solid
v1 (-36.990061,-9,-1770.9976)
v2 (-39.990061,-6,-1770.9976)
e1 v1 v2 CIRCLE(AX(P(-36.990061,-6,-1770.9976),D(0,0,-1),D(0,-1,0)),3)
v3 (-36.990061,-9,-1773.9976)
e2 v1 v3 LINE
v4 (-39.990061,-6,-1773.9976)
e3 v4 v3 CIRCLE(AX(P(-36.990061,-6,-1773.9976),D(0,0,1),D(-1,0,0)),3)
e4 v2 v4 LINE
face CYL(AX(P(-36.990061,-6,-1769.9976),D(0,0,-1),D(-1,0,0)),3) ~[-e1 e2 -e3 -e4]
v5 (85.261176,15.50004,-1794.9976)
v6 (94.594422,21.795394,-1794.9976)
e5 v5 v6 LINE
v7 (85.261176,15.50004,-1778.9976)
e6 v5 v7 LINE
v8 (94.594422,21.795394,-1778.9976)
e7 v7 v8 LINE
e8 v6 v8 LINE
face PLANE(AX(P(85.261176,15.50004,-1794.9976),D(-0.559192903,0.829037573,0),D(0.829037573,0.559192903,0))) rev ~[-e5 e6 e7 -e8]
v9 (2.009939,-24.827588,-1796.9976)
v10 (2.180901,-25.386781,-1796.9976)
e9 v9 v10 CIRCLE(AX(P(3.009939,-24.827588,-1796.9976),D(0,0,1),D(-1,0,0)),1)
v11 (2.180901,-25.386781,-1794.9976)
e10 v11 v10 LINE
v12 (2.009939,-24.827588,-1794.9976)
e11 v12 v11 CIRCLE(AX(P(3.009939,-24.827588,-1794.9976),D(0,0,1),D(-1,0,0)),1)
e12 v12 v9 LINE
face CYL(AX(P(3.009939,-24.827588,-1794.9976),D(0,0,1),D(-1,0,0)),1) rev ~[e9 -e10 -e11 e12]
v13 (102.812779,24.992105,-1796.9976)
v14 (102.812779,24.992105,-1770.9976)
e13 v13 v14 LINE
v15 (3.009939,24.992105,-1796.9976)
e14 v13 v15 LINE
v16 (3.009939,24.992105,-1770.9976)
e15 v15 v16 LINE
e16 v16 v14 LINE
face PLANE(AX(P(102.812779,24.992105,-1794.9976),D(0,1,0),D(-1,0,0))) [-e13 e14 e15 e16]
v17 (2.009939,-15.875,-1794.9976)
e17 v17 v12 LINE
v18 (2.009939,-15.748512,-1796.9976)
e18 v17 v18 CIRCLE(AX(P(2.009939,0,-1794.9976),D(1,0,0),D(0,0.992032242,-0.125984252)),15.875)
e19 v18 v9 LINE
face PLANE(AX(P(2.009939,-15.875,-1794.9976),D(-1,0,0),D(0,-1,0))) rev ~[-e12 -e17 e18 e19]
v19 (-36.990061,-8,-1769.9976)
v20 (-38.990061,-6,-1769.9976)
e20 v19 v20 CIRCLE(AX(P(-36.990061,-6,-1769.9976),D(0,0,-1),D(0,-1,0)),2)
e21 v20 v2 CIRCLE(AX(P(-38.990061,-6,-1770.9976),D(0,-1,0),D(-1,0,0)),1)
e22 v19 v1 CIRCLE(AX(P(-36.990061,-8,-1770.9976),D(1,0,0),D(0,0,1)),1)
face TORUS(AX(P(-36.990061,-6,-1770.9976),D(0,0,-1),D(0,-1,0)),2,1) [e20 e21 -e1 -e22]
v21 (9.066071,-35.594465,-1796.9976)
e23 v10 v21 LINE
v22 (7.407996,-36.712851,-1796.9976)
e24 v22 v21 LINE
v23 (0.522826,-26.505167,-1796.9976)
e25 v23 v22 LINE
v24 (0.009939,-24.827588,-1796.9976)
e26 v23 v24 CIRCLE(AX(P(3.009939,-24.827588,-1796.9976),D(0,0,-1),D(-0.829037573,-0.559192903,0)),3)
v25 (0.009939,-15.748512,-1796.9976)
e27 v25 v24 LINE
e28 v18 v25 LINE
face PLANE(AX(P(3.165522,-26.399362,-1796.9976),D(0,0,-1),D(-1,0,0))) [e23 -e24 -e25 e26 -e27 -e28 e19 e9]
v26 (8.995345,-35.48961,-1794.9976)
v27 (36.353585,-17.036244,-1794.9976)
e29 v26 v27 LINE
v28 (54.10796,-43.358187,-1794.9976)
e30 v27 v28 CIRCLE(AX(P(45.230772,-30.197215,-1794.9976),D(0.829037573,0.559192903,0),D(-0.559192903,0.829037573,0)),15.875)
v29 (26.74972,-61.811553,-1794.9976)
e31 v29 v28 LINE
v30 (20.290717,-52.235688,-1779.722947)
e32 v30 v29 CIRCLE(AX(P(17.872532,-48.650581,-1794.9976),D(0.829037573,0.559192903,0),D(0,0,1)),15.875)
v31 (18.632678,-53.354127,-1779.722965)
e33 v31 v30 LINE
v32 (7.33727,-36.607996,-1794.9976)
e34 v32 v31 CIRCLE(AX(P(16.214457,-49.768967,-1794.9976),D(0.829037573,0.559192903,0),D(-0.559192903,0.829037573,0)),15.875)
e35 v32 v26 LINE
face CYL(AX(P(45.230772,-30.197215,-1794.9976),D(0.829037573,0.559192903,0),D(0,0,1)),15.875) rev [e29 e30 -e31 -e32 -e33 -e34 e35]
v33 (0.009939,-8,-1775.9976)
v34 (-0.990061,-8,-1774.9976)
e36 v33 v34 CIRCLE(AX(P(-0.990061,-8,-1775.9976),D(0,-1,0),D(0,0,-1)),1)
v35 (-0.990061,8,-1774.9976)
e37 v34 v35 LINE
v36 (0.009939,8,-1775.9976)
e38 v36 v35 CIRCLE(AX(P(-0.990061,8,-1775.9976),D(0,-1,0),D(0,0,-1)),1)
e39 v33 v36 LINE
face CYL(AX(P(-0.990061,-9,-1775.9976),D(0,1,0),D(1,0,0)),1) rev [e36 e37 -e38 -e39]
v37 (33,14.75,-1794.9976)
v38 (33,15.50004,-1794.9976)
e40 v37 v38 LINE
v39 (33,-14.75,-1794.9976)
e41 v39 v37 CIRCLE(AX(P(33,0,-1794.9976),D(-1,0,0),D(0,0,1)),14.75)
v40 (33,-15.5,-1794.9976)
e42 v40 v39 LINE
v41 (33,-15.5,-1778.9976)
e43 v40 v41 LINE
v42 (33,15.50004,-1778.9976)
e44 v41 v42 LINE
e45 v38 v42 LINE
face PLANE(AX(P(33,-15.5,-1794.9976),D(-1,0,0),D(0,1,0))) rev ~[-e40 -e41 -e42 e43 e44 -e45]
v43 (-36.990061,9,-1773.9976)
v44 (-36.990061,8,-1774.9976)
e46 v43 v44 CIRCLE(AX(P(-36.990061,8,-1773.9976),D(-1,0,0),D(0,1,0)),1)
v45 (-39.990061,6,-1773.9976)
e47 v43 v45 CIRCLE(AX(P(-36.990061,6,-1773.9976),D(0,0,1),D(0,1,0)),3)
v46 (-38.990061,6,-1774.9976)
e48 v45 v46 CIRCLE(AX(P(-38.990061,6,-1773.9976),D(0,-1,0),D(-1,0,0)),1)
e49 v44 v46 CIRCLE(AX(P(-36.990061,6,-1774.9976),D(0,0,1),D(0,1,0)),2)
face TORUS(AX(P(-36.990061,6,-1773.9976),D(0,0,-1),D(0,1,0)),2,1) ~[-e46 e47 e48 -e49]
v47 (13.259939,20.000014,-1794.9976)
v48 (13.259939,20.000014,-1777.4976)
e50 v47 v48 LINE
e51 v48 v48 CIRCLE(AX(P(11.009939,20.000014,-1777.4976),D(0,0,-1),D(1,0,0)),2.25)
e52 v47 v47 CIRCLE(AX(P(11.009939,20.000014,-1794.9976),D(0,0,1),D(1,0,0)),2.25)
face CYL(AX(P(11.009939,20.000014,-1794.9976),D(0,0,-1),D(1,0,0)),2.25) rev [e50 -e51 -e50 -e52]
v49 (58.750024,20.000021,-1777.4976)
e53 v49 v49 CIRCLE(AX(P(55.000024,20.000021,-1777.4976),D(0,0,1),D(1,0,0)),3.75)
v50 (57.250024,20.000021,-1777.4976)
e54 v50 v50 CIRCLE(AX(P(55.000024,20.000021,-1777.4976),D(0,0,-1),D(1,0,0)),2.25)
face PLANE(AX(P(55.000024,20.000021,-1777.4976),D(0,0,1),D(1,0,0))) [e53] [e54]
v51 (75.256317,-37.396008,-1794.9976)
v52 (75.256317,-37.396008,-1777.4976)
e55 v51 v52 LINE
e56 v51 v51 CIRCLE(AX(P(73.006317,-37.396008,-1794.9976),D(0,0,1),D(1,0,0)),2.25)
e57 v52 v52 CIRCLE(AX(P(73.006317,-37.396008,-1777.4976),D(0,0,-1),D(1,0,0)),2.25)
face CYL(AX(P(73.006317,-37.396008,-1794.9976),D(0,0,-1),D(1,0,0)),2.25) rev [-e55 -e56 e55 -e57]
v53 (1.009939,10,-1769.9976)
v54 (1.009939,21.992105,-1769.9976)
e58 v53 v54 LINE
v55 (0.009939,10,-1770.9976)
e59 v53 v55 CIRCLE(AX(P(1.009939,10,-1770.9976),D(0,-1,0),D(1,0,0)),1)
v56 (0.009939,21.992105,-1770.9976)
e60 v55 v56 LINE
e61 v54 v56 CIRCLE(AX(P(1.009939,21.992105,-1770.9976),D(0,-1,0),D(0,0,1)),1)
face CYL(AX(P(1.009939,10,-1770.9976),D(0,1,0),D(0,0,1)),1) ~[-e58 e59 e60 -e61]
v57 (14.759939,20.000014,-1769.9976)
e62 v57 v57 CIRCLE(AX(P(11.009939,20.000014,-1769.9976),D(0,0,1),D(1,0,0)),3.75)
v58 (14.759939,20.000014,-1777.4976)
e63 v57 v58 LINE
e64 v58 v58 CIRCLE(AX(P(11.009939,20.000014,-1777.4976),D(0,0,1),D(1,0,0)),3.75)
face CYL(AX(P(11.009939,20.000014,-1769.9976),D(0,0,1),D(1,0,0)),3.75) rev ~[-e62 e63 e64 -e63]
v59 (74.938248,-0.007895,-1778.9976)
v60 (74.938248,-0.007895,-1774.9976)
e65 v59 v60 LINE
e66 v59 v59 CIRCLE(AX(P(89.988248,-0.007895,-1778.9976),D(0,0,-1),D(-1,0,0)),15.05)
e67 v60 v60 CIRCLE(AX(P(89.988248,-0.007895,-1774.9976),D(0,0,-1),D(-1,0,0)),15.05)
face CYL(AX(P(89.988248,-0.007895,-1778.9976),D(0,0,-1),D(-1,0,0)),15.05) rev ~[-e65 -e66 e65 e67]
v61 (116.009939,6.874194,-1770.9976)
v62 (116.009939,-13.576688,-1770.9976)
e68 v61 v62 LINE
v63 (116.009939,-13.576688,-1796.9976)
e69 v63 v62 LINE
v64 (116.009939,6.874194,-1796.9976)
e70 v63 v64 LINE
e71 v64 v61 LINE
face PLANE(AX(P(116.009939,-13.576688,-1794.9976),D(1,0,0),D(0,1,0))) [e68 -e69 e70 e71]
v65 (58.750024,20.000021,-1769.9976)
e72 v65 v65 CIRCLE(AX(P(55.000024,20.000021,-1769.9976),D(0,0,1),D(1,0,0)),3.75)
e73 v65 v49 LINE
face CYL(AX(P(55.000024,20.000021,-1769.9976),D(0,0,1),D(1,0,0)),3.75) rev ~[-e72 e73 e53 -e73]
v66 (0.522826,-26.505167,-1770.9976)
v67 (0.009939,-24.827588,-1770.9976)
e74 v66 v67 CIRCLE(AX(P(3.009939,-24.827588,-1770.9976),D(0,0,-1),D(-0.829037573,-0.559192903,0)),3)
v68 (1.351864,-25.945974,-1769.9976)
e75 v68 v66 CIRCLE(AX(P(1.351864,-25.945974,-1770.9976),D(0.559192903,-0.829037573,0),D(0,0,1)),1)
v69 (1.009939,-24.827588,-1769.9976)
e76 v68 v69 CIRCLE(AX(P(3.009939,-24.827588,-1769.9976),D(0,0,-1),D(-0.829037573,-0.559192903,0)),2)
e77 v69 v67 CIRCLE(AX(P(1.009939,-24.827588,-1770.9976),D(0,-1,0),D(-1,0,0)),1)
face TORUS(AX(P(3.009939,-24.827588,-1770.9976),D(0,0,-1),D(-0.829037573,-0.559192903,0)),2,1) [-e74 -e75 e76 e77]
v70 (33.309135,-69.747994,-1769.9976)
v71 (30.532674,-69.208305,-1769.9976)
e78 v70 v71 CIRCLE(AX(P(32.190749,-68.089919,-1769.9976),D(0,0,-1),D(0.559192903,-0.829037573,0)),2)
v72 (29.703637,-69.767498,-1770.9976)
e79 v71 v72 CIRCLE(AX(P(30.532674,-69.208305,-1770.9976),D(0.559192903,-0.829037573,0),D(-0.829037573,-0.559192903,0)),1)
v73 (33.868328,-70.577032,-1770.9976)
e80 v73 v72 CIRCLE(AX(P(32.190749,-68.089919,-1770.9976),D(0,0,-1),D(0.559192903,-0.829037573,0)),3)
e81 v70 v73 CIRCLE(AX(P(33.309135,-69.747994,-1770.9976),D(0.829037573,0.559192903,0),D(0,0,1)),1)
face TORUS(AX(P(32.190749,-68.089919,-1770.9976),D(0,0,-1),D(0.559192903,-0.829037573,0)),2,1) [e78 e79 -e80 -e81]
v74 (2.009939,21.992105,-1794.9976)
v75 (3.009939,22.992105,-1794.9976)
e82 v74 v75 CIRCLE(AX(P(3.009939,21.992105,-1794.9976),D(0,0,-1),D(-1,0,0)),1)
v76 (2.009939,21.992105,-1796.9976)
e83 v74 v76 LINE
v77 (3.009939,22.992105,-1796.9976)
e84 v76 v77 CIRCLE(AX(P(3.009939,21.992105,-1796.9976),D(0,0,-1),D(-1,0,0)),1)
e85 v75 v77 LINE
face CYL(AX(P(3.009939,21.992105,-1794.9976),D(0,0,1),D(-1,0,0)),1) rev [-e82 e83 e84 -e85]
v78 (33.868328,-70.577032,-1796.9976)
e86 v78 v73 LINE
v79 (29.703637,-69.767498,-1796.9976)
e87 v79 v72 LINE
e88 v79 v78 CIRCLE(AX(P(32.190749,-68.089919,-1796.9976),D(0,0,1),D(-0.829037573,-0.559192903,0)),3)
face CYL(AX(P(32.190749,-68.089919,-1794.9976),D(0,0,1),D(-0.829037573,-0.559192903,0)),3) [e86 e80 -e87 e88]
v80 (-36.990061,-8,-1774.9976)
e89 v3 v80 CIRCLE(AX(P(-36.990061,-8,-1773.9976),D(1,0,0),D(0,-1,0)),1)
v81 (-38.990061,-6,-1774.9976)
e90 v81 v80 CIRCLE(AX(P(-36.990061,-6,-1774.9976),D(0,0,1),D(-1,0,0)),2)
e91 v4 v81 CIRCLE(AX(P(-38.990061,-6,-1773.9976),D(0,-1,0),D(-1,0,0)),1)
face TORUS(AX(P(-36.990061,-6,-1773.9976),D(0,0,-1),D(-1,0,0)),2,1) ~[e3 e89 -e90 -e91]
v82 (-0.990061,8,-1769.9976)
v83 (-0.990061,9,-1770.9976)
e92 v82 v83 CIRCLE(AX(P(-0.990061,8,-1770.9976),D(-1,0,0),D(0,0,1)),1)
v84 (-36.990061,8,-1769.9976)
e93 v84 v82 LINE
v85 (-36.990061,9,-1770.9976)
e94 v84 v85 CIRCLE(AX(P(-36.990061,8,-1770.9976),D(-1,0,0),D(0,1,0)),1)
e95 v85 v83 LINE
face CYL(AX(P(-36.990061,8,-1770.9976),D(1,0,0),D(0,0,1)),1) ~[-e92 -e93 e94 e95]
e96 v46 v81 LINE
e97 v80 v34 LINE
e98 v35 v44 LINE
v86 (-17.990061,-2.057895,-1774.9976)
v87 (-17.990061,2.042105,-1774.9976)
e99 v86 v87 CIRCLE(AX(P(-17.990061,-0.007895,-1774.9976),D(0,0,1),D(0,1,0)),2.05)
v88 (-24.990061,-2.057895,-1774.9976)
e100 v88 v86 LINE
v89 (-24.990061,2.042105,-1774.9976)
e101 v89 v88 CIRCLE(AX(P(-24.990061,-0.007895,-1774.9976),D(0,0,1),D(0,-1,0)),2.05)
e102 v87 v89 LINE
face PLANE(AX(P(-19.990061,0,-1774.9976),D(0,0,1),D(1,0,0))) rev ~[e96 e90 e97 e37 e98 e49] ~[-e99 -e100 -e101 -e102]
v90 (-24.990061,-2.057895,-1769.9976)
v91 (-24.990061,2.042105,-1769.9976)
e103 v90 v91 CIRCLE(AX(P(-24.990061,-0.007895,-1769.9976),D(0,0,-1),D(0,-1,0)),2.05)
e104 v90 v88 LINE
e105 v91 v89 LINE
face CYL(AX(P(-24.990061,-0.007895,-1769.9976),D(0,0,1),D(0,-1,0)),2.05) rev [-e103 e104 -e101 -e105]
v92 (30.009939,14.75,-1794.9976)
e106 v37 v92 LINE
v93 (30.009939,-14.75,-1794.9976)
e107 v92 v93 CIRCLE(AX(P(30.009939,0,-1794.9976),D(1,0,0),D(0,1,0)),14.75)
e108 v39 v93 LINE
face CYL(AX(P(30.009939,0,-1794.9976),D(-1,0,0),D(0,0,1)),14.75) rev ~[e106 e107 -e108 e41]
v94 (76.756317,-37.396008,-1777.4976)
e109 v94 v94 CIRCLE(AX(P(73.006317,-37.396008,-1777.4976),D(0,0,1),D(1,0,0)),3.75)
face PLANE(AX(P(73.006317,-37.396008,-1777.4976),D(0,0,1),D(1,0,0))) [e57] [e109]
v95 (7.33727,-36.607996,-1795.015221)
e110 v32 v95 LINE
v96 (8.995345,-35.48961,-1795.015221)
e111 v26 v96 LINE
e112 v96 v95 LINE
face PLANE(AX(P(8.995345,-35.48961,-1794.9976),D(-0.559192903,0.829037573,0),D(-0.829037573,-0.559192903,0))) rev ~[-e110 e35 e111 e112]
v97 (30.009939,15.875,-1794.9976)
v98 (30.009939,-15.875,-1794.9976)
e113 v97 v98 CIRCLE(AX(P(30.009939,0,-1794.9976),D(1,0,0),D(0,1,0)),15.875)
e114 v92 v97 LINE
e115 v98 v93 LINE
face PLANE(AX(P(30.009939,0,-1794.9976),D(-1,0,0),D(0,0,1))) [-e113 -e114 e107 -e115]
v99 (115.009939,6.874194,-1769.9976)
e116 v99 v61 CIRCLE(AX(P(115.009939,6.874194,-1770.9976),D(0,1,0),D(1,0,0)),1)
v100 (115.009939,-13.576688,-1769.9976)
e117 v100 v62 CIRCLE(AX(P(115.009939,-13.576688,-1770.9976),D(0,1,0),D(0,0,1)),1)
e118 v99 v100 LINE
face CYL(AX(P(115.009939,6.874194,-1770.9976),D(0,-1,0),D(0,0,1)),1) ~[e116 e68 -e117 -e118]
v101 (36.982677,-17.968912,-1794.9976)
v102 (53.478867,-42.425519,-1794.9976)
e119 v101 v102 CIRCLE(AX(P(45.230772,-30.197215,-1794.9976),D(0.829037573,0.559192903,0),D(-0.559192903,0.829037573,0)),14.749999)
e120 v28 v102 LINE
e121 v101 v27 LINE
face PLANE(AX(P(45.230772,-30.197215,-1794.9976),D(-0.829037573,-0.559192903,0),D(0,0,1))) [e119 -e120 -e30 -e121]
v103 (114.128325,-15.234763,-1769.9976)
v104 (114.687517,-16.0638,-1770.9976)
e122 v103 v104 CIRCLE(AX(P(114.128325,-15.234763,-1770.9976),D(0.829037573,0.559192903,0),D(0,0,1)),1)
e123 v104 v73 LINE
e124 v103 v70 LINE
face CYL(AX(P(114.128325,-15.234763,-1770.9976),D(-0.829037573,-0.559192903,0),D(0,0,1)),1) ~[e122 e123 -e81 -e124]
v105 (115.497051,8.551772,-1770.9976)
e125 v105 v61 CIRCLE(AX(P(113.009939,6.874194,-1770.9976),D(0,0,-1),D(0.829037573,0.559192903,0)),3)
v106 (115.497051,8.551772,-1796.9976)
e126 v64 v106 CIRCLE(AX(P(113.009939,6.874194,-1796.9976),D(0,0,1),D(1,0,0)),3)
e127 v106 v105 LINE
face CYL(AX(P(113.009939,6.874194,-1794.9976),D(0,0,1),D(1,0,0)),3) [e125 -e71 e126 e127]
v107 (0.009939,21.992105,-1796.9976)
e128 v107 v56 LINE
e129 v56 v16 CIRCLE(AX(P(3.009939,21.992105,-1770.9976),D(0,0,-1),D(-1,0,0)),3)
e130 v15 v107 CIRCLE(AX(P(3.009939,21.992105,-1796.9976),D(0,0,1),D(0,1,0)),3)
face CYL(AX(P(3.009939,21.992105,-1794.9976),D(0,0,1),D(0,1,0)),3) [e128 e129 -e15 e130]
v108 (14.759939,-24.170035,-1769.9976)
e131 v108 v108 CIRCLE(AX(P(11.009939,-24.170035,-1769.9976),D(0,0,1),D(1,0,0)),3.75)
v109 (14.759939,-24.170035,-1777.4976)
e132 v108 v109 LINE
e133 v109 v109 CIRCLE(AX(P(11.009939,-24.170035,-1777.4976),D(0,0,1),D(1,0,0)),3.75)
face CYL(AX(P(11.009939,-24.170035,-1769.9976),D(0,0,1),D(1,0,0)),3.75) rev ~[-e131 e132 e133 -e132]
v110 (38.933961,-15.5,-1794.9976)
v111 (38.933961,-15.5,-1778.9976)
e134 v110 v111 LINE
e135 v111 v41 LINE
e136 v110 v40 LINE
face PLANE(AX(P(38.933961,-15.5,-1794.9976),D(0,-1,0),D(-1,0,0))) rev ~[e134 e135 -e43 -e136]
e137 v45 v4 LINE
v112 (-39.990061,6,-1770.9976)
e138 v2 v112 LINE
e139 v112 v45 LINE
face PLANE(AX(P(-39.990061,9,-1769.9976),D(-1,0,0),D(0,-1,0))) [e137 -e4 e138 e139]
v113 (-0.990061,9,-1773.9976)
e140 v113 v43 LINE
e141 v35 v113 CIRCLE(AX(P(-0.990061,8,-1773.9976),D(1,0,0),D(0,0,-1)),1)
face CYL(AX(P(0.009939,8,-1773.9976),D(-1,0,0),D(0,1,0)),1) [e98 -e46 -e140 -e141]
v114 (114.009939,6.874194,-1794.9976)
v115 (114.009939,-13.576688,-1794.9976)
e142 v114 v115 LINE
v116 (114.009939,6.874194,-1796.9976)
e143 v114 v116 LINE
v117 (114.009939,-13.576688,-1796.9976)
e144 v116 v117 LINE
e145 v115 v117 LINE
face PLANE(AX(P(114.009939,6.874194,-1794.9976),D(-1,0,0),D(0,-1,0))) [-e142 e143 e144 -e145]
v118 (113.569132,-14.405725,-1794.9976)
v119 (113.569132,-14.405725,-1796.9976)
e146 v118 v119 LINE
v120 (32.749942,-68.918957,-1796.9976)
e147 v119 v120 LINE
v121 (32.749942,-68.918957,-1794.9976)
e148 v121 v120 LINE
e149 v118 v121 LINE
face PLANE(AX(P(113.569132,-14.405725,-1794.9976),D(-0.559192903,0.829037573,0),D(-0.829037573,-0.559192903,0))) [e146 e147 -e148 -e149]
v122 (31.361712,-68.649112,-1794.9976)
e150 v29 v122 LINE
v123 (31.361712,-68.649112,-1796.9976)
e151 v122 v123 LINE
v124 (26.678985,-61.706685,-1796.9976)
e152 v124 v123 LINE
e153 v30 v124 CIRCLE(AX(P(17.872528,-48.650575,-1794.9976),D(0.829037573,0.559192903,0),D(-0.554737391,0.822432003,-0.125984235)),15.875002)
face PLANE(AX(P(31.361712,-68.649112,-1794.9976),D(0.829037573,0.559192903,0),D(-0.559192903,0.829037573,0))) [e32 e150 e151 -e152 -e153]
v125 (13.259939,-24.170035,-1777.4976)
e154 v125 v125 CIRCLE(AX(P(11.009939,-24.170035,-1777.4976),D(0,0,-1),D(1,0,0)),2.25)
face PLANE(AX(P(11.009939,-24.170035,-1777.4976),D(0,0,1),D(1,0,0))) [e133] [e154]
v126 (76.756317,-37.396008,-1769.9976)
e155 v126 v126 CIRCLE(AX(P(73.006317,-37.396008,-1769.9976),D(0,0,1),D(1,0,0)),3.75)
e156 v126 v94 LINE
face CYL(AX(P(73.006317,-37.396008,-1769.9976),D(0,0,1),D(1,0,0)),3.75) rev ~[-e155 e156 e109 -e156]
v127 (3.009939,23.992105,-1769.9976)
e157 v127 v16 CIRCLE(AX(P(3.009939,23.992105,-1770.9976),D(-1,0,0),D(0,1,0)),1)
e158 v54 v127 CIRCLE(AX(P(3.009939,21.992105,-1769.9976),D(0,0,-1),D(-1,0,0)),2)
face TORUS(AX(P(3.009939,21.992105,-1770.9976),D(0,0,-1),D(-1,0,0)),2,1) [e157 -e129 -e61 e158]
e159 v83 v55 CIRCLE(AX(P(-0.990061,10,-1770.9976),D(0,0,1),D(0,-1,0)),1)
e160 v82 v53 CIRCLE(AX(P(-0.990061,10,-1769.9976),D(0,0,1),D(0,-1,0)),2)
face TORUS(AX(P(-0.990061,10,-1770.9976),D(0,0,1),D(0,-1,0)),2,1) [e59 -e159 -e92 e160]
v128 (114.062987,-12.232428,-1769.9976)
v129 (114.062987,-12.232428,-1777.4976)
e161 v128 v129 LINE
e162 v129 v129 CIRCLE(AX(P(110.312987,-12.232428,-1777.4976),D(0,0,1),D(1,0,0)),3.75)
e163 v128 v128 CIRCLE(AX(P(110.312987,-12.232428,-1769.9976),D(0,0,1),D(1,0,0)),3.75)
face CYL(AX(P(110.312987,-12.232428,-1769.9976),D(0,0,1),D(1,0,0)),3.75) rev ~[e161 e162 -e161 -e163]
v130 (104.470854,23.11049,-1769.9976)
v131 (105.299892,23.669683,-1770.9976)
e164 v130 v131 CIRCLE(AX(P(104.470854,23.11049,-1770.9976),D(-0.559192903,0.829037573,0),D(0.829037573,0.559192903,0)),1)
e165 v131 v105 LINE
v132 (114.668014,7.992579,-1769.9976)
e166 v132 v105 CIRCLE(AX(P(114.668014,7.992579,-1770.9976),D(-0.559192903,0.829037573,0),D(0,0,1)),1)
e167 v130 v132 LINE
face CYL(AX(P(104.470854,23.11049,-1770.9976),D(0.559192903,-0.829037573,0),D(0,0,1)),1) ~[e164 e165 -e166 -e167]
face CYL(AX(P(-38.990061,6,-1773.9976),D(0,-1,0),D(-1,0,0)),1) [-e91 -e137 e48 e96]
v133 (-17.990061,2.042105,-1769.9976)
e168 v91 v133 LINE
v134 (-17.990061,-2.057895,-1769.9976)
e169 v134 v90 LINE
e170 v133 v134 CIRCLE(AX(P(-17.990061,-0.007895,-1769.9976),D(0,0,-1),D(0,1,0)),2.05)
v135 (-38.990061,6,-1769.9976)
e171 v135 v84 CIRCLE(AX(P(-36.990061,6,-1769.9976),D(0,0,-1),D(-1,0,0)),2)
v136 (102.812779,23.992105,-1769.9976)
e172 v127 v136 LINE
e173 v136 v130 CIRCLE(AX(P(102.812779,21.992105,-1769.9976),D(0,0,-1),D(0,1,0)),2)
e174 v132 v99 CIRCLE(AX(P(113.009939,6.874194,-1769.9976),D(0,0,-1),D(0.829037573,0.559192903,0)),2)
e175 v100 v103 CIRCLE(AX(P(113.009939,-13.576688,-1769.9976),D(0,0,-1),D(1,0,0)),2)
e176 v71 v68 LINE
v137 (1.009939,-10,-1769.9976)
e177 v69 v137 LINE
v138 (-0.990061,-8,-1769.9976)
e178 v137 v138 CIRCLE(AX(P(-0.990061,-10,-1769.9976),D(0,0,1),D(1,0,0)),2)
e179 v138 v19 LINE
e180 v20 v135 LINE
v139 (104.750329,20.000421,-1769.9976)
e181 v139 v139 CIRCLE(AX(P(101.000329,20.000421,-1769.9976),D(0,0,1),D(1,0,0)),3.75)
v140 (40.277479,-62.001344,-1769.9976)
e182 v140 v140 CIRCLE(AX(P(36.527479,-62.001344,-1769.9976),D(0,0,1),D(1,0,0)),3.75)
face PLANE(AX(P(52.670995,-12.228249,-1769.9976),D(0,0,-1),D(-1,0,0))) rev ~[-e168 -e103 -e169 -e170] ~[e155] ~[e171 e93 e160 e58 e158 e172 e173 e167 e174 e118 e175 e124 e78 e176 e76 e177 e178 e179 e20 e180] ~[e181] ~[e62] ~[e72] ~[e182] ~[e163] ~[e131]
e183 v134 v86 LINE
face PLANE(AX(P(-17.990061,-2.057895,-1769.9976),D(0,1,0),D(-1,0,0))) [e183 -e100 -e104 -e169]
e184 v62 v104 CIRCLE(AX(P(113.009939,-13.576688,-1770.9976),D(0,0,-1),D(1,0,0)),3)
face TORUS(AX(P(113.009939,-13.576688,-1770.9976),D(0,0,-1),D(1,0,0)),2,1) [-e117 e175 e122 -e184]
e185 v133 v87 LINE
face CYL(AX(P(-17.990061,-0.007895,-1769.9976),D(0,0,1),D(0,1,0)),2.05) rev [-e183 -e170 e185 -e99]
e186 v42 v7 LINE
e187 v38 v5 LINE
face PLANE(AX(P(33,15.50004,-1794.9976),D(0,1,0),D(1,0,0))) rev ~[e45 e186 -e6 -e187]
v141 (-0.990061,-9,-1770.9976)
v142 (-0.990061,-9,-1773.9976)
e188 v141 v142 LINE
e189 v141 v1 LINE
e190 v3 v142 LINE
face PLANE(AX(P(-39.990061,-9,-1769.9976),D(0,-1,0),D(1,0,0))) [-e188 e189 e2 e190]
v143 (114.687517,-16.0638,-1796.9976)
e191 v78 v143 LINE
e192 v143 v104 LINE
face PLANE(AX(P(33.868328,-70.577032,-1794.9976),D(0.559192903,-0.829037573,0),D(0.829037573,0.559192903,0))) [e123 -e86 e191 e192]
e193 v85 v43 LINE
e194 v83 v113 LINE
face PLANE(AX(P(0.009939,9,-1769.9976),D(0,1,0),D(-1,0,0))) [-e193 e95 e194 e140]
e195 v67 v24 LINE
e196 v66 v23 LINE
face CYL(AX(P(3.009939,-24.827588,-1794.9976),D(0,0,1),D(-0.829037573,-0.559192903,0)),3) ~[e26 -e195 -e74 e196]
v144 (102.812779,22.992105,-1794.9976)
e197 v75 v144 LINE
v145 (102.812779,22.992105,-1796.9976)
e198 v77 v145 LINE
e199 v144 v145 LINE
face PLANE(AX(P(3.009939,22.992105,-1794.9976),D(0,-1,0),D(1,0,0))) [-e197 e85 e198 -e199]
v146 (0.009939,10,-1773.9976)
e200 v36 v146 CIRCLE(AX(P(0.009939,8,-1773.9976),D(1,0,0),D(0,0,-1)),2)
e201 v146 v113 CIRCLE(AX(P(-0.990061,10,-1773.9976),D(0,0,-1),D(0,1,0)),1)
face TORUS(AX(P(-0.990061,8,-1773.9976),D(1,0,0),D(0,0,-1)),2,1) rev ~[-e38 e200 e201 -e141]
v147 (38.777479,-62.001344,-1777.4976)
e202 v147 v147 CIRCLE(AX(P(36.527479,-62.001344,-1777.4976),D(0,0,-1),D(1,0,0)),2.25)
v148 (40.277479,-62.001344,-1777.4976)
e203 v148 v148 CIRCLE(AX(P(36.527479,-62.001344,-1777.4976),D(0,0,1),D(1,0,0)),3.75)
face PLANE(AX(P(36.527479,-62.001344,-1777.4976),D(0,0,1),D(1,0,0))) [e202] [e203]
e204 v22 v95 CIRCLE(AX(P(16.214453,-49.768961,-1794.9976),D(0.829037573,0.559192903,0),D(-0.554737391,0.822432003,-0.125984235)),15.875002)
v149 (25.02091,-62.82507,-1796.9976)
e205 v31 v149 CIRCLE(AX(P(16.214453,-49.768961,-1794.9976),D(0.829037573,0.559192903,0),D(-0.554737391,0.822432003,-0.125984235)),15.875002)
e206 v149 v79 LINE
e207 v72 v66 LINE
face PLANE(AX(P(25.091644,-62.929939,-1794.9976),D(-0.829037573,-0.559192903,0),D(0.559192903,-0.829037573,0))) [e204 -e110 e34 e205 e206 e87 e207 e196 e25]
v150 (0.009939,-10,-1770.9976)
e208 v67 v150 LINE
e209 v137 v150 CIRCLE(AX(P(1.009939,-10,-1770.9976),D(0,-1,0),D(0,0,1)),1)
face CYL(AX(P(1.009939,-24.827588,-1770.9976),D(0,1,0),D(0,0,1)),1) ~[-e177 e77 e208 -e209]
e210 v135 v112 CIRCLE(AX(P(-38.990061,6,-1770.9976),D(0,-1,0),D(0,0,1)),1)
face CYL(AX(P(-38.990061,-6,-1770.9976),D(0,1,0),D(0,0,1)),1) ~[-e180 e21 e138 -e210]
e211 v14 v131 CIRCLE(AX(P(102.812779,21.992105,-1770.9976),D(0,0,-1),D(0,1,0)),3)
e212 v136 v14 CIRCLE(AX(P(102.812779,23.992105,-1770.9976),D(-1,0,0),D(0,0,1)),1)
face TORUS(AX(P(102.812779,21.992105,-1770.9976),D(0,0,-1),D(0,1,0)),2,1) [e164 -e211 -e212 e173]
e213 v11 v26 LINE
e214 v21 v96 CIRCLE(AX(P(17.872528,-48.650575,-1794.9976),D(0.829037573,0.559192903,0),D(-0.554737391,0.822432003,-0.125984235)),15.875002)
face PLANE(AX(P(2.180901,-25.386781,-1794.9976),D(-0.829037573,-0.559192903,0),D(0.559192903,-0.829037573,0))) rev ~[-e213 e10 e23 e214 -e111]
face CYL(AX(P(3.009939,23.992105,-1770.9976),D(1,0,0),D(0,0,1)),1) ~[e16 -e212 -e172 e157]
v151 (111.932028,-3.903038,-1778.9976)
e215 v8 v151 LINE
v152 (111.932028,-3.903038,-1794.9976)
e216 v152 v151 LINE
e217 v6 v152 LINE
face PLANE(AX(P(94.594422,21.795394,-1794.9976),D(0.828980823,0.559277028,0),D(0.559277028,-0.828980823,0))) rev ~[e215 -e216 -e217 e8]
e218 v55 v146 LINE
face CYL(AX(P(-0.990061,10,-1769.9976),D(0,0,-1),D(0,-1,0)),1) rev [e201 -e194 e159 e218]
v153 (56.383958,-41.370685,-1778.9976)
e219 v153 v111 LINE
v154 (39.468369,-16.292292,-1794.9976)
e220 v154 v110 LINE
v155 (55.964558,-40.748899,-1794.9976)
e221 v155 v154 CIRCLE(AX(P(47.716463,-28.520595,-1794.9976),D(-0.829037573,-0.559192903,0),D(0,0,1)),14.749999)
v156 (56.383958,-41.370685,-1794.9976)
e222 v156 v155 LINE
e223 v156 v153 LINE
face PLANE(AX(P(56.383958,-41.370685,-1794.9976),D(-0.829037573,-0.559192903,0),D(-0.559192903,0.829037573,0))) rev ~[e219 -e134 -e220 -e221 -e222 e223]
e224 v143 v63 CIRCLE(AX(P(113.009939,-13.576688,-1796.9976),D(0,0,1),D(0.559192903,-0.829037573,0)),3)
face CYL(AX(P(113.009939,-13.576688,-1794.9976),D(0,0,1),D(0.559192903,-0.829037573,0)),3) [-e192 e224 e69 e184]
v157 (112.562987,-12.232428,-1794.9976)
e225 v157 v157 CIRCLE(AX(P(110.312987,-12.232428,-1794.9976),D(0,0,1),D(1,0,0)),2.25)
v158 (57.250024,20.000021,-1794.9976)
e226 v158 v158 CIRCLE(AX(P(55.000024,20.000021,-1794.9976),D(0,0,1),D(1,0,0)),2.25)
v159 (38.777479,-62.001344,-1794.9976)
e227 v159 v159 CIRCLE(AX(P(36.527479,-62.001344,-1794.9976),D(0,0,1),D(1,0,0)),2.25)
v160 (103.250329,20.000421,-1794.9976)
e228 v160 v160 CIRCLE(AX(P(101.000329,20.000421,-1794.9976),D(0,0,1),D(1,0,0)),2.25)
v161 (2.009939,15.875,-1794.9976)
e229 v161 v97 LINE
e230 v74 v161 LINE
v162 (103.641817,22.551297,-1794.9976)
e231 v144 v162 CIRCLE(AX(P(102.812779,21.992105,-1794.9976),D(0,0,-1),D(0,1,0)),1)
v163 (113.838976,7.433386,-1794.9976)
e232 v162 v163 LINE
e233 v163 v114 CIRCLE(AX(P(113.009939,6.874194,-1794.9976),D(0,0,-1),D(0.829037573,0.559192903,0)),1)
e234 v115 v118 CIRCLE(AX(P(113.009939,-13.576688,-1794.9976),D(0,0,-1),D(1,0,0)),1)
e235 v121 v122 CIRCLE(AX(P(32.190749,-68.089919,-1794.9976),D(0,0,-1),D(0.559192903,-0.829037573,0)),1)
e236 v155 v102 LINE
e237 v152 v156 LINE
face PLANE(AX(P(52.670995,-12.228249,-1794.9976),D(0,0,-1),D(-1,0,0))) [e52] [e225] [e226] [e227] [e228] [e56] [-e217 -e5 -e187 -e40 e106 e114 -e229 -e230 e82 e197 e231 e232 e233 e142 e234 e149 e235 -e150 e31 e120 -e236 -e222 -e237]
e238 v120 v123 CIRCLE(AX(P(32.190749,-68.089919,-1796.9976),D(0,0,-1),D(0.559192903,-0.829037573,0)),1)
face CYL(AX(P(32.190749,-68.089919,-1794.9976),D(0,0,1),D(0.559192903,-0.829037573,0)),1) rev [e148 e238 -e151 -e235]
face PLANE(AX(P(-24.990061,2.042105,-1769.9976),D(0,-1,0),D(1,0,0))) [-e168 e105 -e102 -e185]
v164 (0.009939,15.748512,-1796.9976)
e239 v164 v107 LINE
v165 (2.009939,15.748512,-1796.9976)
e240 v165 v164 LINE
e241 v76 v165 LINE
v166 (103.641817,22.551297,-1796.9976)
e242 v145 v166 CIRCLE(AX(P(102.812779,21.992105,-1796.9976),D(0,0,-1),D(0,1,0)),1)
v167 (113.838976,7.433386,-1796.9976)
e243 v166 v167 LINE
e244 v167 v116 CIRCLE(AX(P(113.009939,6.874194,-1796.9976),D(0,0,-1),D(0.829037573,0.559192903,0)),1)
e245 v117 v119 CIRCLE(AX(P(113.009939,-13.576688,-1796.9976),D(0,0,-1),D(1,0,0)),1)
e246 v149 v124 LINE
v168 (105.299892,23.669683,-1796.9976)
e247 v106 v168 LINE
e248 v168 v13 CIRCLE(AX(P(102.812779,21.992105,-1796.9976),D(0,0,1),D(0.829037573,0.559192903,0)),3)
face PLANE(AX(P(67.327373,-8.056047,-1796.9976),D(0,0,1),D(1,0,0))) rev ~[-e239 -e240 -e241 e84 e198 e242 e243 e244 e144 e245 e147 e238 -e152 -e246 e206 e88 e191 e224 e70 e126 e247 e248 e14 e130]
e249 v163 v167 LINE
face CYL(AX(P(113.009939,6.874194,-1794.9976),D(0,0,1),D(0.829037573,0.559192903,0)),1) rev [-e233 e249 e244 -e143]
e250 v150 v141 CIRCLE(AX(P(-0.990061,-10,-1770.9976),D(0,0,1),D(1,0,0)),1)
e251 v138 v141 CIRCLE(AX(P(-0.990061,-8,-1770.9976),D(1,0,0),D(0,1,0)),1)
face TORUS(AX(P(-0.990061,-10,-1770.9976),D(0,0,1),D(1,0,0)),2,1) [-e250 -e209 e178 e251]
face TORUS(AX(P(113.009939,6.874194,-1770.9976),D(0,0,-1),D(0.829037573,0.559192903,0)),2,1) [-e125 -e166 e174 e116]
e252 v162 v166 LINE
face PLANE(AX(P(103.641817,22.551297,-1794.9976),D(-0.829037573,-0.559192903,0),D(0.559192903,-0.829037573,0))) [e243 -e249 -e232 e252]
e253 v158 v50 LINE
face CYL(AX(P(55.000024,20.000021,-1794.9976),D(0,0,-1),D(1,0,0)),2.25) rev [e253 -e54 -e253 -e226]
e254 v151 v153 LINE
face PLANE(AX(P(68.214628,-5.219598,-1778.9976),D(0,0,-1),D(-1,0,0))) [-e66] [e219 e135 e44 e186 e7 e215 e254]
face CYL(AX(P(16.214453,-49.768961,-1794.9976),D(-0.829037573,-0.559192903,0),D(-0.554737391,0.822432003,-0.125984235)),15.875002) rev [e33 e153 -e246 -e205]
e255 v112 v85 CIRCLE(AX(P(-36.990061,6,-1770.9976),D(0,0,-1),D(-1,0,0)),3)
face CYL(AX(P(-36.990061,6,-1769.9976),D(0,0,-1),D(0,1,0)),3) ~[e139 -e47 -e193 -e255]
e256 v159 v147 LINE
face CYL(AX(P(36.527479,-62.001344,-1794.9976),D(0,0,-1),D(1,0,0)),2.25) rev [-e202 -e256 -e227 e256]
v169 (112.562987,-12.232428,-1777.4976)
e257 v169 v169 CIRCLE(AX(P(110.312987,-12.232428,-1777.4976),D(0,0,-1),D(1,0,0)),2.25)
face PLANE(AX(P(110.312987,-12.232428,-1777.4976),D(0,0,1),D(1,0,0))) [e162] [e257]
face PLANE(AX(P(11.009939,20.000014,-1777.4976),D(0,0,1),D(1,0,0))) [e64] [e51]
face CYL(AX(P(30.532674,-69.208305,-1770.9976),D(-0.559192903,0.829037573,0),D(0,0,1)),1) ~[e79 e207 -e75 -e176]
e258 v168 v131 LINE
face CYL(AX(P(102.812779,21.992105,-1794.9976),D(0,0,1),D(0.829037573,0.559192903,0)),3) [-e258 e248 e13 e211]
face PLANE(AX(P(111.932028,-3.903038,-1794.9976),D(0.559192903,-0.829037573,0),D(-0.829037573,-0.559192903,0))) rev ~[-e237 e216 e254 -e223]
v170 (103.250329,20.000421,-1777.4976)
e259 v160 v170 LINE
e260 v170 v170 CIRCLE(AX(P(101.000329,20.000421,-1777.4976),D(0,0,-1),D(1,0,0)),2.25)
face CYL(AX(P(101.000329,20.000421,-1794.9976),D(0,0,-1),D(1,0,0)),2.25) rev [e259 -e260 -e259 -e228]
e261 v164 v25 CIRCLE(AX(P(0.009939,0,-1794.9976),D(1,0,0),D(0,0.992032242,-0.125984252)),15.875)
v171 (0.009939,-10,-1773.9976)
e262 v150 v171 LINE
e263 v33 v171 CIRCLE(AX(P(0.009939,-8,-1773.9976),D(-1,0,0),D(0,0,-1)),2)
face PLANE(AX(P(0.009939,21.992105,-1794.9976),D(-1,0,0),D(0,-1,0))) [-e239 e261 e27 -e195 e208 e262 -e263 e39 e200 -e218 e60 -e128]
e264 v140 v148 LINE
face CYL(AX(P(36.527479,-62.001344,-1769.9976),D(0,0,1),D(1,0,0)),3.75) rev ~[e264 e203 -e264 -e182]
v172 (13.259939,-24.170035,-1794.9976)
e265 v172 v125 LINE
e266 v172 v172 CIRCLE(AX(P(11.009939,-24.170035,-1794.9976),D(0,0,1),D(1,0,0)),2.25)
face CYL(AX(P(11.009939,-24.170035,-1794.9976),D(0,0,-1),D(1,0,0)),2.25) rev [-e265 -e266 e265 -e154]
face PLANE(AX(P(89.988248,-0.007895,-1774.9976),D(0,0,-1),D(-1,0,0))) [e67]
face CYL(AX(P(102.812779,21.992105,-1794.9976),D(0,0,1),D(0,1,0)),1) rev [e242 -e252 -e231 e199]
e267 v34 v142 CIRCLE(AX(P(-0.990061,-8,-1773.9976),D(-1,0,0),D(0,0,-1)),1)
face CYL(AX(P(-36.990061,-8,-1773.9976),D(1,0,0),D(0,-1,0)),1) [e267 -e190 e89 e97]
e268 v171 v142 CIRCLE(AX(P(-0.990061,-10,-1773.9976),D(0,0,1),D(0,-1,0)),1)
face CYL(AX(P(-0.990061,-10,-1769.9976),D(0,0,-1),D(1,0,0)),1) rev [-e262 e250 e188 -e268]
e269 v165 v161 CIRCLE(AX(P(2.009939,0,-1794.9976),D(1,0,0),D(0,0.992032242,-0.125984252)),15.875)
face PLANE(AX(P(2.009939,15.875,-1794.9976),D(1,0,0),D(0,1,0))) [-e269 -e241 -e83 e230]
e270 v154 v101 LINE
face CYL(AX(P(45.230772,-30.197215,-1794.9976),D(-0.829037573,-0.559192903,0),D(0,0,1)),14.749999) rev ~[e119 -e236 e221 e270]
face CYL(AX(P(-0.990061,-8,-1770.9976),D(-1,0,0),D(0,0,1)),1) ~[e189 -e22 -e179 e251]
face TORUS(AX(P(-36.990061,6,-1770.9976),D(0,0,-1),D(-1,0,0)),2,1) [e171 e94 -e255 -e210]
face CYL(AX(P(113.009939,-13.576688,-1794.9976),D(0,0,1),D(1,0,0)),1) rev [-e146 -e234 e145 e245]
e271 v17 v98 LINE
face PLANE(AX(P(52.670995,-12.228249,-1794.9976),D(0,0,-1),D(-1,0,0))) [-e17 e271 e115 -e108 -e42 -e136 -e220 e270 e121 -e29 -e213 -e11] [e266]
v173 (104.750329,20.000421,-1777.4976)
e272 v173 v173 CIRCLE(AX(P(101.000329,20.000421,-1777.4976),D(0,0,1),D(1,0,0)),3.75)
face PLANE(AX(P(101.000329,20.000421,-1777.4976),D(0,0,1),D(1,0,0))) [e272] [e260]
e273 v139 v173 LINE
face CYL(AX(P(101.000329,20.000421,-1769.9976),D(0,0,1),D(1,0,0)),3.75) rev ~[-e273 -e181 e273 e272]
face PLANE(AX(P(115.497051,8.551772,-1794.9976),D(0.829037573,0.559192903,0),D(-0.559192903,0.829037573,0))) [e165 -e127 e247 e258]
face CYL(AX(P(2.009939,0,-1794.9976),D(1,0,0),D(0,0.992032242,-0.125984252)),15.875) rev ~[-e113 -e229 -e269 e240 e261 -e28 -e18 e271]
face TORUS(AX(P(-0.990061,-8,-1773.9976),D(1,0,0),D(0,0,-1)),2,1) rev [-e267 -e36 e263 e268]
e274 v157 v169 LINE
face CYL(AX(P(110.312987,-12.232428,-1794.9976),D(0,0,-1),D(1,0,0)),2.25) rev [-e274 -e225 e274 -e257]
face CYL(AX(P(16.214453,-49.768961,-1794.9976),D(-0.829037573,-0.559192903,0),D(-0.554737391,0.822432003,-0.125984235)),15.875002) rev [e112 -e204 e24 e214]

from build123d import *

# Parameters (mm, degrees)
SKETCH4_R           = 2.2500000000000013
SKETCH4_R_2         = 2.2500000000000027
SKETCH4_R_3         = 2.2499999999999964
SKETCH4_R_4         = 2.249999999999996
BOSS_EXTRUDE1_DEPTH = 25
CUT_EXTRUDE1_START  = -30
SKETCH5_R           = 15.874999999999952
CUT_EXTRUDE1_DEPTH  = 30
CUT_EXTRUDE2_START  = -35
SKETCH6_R           = 15.874999999999952
CUT_EXTRUDE2_DEPTH  = 35
SKETCH7_R           = 14.75000008942099
CUT_EXTRUDE3_DEPTH  = 3
SKETCH8_R           = 14.749999054525292
CUT_EXTRUDE4_DEPTH  = 3
CUT_EXTRUDE5_DEPTH  = 16
SKETCH10_R          = 15.04999999992957
CUT_EXTRUDE6_DEPTH  = 4
BOSS_EXTRUDE2_DEPTH = 5
CUT_EXTRUDE7_REACH  = 140.939
FILLET4_R           = 3
FILLET5_R           = 3
SKETCH14_R          = 3.750000000000006
SKETCH14_R_2        = 3.750000000000007
SKETCH14_R_3        = 3.7499999999999996
SKETCH14_R_4        = 3.7500000000000058
CUT_EXTRUDE8_DEPTH  = 7.5
FILLET7_R           = 1
BOSS_EXTRUDE4_DEPTH = 2
BOSS_EXTRUDE5_DEPTH = 2
BOSS_EXTRUDE6_DEPTH = 2
BOSS_EXTRUDE7_START = -2
BOSS_EXTRUDE7_DEPTH = 2
FILLET8_R           = 1


with BuildPart() as part:
    # Sketch4 → Boss-Extrude1 (new body)
    with BuildSketch(Plane.XY.offset(-1794.997599915682)):
        Polygon((0.00993873344056589, 24.992104512799955), (104.40790730051027, 24.992104512799955), (116.00993873344059, 7.7913855548794535), (116.00993873344058, -15.171815869987777), (31.38121525312008, -72.2546106269668), (0.00993873344057211, -25.74478052646954), align=None)
        with Locations((11.009938733413076, 20.000014462070865)):
            Circle(SKETCH4_R, mode=Mode.SUBTRACT)
        with Locations((55.0000235560205, 20.0000207563879)):
            Circle(SKETCH4_R_2, mode=Mode.SUBTRACT)
        with Locations((101.00032947766128, 20.000421303290455)):
            Circle(SKETCH4_R_3, mode=Mode.SUBTRACT)
        with Locations((110.31298743881767, -12.232428015251282)):
            Circle(SKETCH4_R_4, mode=Mode.SUBTRACT)
        with Locations((73.00631721020957, -37.39600782393461)):
            Circle(SKETCH4_R_3, mode=Mode.SUBTRACT)
        with Locations((36.52747936466516, -62.00134443268738)):
            Circle(SKETCH4_R_2, mode=Mode.SUBTRACT)
        with Locations((11.009938733413076, -24.170034680366825)):
            Circle(SKETCH4_R, mode=Mode.SUBTRACT)
    extrude(amount=BOSS_EXTRUDE1_DEPTH)

    # Sketch5 → Cut-Extrude1 (cut)
    with BuildSketch(Plane.ZY.offset(-0.00993873344056895).offset(CUT_EXTRUDE1_START)):
        with Locations((-1794.997599915682, 0)):
            Circle(SKETCH5_R)
    extrude(amount=CUT_EXTRUDE1_DEPTH, mode=Mode.SUBTRACT)

    # Sketch6 → Cut-Extrude2 (cut)
    with BuildSketch(Plane(origin=(-11.928241497495174, -8.045700481013716, 0), x_dir=(0, 0, 1), z_dir=(-0.829037572555043, -0.5591929034707451, 0)).offset(CUT_EXTRUDE2_START)):
        with Locations((-1794.997599915682, -50.32735299672014)):
            Circle(SKETCH6_R)
    extrude(amount=CUT_EXTRUDE2_DEPTH, mode=Mode.SUBTRACT)

    # Sketch7 → Cut-Extrude3 (cut)
    with BuildSketch(Plane.ZY.offset(-30.009938733440574)):
        with Locations((-1794.997599915682, 0)):
            Circle(SKETCH7_R)
    extrude(amount=-CUT_EXTRUDE3_DEPTH, mode=Mode.SUBTRACT)

    # Sketch8 → Cut-Extrude4 (cut)
    with BuildSketch(Plane(origin=(17.08807354193135, 11.526051140462371, 0), x_dir=(0, 0, 1), z_dir=(-0.829037572555043, -0.5591929034707452, 0))):
        with Locations((-1794.997599915682, -50.32735299672015)):
            Circle(SKETCH8_R)
    extrude(amount=-CUT_EXTRUDE4_DEPTH, mode=Mode.SUBTRACT)

    # Sketch9 → Cut-Extrude5 (cut)
    with BuildSketch(Plane(origin=(0, 0, -1794.997599915682), x_dir=(-1, 0, 0), z_dir=(0, 0, -1))):
        Polygon((-32.999999821186066, 15.500039814543918), (-85.26117632239622, 15.50003981454392), (-94.59442246724795, 21.795393829033166), (-111.93202827604188, -3.903038277997192), (-56.38395812017689, -41.37068469228828), (-38.93396078781694, -15.49999974668026), (-32.999999821186066, -15.49999974668026), align=None)
    extrude(amount=-CUT_EXTRUDE5_DEPTH, mode=Mode.SUBTRACT)

    # Sketch10 → Cut-Extrude6 (cut)
    with BuildSketch(Plane(origin=(0, 0, -1778.997599915682), x_dir=(-1, 0, 0), z_dir=(0, 0, -1))):
        with Locations((-89.98824773797764, -0.00789548721469649)):
            Circle(SKETCH10_R)
    extrude(amount=-CUT_EXTRUDE6_DEPTH, mode=Mode.SUBTRACT)

    # Sketch11 → Boss-Extrude2 (add)
    with BuildSketch(Plane.XY.offset(-1769.997599915682)):
        Polygon((0.00993873343757158, 9), (-39.99006126656244, 8.999999999999995), (-39.990061266562435, -9.000000000000005), (0.00993873343757209, -9.000000000000004), align=None)
    extrude(amount=-BOSS_EXTRUDE2_DEPTH)

    # Sketch12 → Cut-Extrude7 (cut, up to next)
    with BuildSketch(Plane.XY.offset(-1769.997599915682), mode=Mode.PRIVATE) as cut_extrude7_sk1:
        with BuildLine():
            Line((-17.990061266586913, -2.0578954871867152), (-24.990061266562424, -2.0578954872101294))
            ThreePointArc((-24.990061266562424, -2.0578954872101294), (-27.040061266609257, -0.00789548716329644), (-24.990061266562424, 2.0421045128835345))
            Line((-24.990061266562424, 2.0421045128835345), (-17.990061266586913, 2.0421045128367))
            ThreePointArc((-17.990061266586913, 2.0421045128367), (-15.940061266586913, -0.00789548718671546), (-17.990061266586913, -2.0578954871867152))
        make_face()
    cut_extrude7_tool1 = extrude(cut_extrude7_sk1.sketch, amount=-CUT_EXTRUDE7_REACH, mode=Mode.PRIVATE) & part.part
    add(cut_extrude7_tool1.solids().sort_by_distance((-21.490061, -0.007895, -1769.9976))[0], mode=Mode.SUBTRACT)

    # Fillet4
    fillet4_edges = [part.edges().sort_by_distance(p)[0] for p in [
        (0.00993873344056589, 24.992104512799955, -1782.497599915682),
        (104.40790730051027, 24.992104512799955, -1782.497599915682),
        (116.00993873344059, 7.7913855548794535, -1782.497599915682),
        (116.00993873344058, -15.171815869987777, -1782.497599915682),
        (31.38121525312008, -72.2546106269668, -1782.497599915682),
        (0.00993873344057211, -25.74478052646954, -1782.497599915682),
    ]]
    fillet(fillet4_edges, radius=FILLET4_R)

    # Fillet5
    fillet5_edges = [part.edges().sort_by_distance(p)[0] for p in [
        (-39.990061266562435, -9.000000000000005, -1772.497599915682),
        (-39.99006126656244, 8.999999999999995, -1772.497599915682),
    ]]
    fillet(fillet5_edges, radius=FILLET5_R)

    # Sketch14 → Cut-Extrude8 (cut)
    with BuildSketch(Plane.XY.offset(-1769.997599915682)):
        with Locations((110.31298743881767, -12.232428015251282)):
            Circle(SKETCH14_R)
        with Locations((73.00631721020957, -37.39600782393461)):
            Circle(SKETCH14_R_2)
        with Locations((36.52747936466516, -62.00134443268738)):
            Circle(SKETCH14_R_2)
        with Locations((11.009938733413076, -24.170034680366825)):
            Circle(SKETCH14_R_3)
        with Locations((11.009938733413076, 20.000014462070865)):
            Circle(SKETCH14_R_3)
        with Locations((55.0000235560205, 20.0000207563879)):
            Circle(SKETCH14_R_4)
        with Locations((101.00032947766128, 20.000421303290455)):
            Circle(SKETCH14_R_4)
    extrude(amount=-CUT_EXTRUDE8_DEPTH, mode=Mode.SUBTRACT)

    # Fillet7
    fillet7_edges = [part.edges().sort_by_distance(p)[0] for p in [
        (0.00993873343757183, -1.78e-15, -1774.997599915682),
        (0.00993873343757158, 9, -1772.497599915682),
        (0.00993873343757209, -9.000000000000004, -1772.497599915682),
        (-18.490061266562435, 8.999999999999998, -1774.997599915682),
        (-39.990061266562435, -5.33e-15, -1774.997599915682),
        (-18.49006126656243, -9.000000000000004, -1774.997599915682),
        (-39.11138161012208, -8.121320343559647, -1774.997599915682),
        (-39.11138161012209, 8.121320343559638, -1774.997599915682),
    ]]
    fillet(fillet7_edges, radius=FILLET7_R)

    # Sketch15 → Boss-Extrude4 (add)
    with BuildSketch(Plane(origin=(0, 0, -1794.997599915682), x_dir=(-1, 0, 0), z_dir=(0, 0, -1))):
        with BuildLine():
            Line((-8.9953449512499, -35.4896097712826), (-7.337269806139812, -36.607995578224084))
            Line((-7.337269806139812, -36.607995578224084), (-0.522826015775444, -26.505167192505805))
            ThreePointArc((-0.522826015775444, -26.505167192505805), (-0.1410244655514652, -25.704703596261776), (-0.009938733440572, -24.82758848209357))
            Line((-0.009938733440572, -24.82758848209357), (-0.00993873344057511, -15.874999999999952))
            Line((-0.00993873344057511, -15.874999999999952), (-2.009938733440575, -15.874999999999952))
            Line((-2.009938733440575, -15.874999999999952), (-2.0099387334405723, -24.82758848209357))
            ThreePointArc((-2.0099387334405723, -24.82758848209357), (-2.0536339774775376, -25.119960186816307), (-2.1809011608855307, -25.386781385564316))
            Line((-2.1809011608855307, -25.386781385564316), (-8.9953449512499, -35.4896097712826))
        make_face()
    extrude(amount=BOSS_EXTRUDE4_DEPTH)

    # Sketch17 → Boss-Extrude5 (add)
    with BuildSketch(Plane(origin=(0, 0, -1794.997599915682), x_dir=(-1, 0, 0), z_dir=(0, 0, -1))):
        with BuildLine():
            Line((-25.091644491335906, -62.92993850684661), (-29.703636542707837, -69.76749790930165))
            ThreePointArc((-29.703636542707837, -69.76749790930165), (-31.6183222742433, -71.03480074923243), (-33.86832797078518, -70.57703191655457))
            Line((-33.86832797078518, -70.57703191655457), (-114.68751744385281, -16.063800292668468))
            ThreePointArc((-114.68751744385281, -16.063800292668468), (-115.65878151201736, -14.985102263361018), (-116.00993873344058, -13.57668757500334))
            Line((-116.00993873344058, -13.57668757500334), (-116.00993873344059, 6.8741935105034715))
            ThreePointArc((-116.00993873344059, 6.8741935105034715), (-115.8788530013297, 7.751308624671679), (-115.49705145110572, 8.551772220915705))
            Line((-115.49705145110572, 8.551772220915705), (-105.29989172319095, 23.6696832232122))
            ThreePointArc((-105.29989172319095, 23.6696832232122), (-104.2211936938835, 24.640947291376737), (-102.81277900552584, 24.992104512799955))
            Line((-102.81277900552584, 24.992104512799955), (-3.0099387334405665, 24.992104512799955))
            ThreePointArc((-3.0099387334405665, 24.992104512799955), (-0.8886183898809237, 24.1134248563596), (-0.00993873344056626, 21.99210451279996))
            Line((-0.00993873344056626, 21.99210451279996), (-0.00993873344056701, 15.874999999999952))
            Line((-0.00993873344056701, 15.874999999999952), (-2.009938733440567, 15.874999999999952))
            Line((-2.009938733440567, 15.874999999999952), (-2.009938733440566, 21.99210451279996))
            ThreePointArc((-2.009938733440566, 21.99210451279996), (-2.3028319522540186, 22.699211293986505), (-3.0099387334405665, 22.99210451279996))
            Line((-3.0099387334405665, 22.99210451279996), (-102.81277900552584, 22.992104512799955))
            ThreePointArc((-102.81277900552584, 22.992104512799955), (-103.28225056831172, 22.87505210565888), (-103.64181657808088, 22.551297416270703))
            Line((-103.64181657808088, 22.551297416270703), (-113.83897630599564, 7.4333864139742145))
            ThreePointArc((-113.83897630599564, 7.4333864139742145), (-113.96624348940364, 7.166565215226207), (-114.00993873344059, 6.874193510503473))
            Line((-114.00993873344059, 6.874193510503473), (-114.00993873344058, -13.576687575003339))
            ThreePointArc((-114.00993873344058, -13.576687575003339), (-113.8928863262995, -14.046159137789234), (-113.56913163691132, -14.405725147558387))
            Line((-113.56913163691132, -14.405725147558387), (-32.74994216384368, -68.9189567714445))
            ThreePointArc((-32.74994216384368, -68.9189567714445), (-31.999940264996386, -69.0715463823371), (-31.36171168781791, -68.64911210236018))
            Line((-31.36171168781791, -68.64911210236018), (-26.74971963644599, -61.81155269990512))
            Line((-26.74971963644599, -61.81155269990512), (-25.091644491335906, -62.92993850684661))
        make_face()
    extrude(amount=BOSS_EXTRUDE5_DEPTH)

    # Sketch20 → Boss-Extrude6 (add)
    with BuildSketch(Plane(origin=(-11.928241497495174, -8.045700481013716, 0), x_dir=(0, 0, 1), z_dir=(-0.829037572555043, -0.5591929034707451, 0))):
        with BuildLine():
            Line((-1796.997599915682, -32.56458370522732), (-1796.997599915682, -34.5788313656413))
            ThreePointArc((-1796.997599915682, -34.5788313656413), (-1779.1225978219331, -50.32734531066272), (-1796.997599915682, -66.07585925568414))
            Line((-1796.997599915682, -66.07585925568414), (-1796.997599915682, -68.09010691609812))
            ThreePointArc((-1796.997599915682, -68.09010691609812), (-1777.1225978219331, -50.32734531066272), (-1796.997599915682, -32.56458370522732))
        make_face()
    extrude(amount=-BOSS_EXTRUDE6_DEPTH)

    # Sketch21 → Boss-Extrude7 (add)
    with BuildSketch(Plane.ZY.offset(-0.00993873344056895).offset(BOSS_EXTRUDE7_START)):
        with BuildLine():
            Line((-1796.997599915682, 16.933411053952273), (-1796.997599915682, 15.74851183445599))
            ThreePointArc((-1796.997599915682, 15.74851183445599), (-1779.122599915682, -3.4e-16), (-1796.997599915682, -15.74851183445599))
            Line((-1796.997599915682, -15.74851183445599), (-1796.997599915682, -16.933411053952273))
            ThreePointArc((-1796.997599915682, -16.933411053952273), (-1777.946488224003, -3.4e-16), (-1796.997599915682, 16.933411053952273))
        make_face()
    extrude(amount=BOSS_EXTRUDE7_DEPTH)

    # Fillet8
    fillet8_edges = [part.edges().sort_by_distance(p)[0] for p in [
        (74.27792270731901, -43.32041610461151, -1769.997599915682),
        (15.113231279241639, -48.13633255090372, -1769.997599915682),
        (0.009938733440567, 15.996052256399977, -1769.997599915682),
        (116.00993873344059, -3.35124703224995, -1769.997599915682),
        (110.39847158714835, 16.110727722063938, -1769.997599915682),
        (52.91135886948321, 24.992104512799955, -1769.997599915682),
        (115.65878151201736, -14.985102263361027, -1769.997599915682),
        (115.87885300132972, 7.7513086246716645, -1769.997599915682),
        (104.22119369388352, 24.640947291376737, -1769.997599915682),
        (0.8886183898809241, 24.113424856359597, -1769.997599915682),
        (0.14102446555145587, -25.70470359626175, -1769.997599915682),
        (31.61832227424332, -71.03480074923242, -1769.997599915682),
        (-39.990061266562435, -5.33e-15, -1769.997599915682),
        (-18.99006126656094, -9.000000000000004, -1769.997599915682),
        (-39.11138161012208, -8.121320343559647, -1769.997599915682),
        (-39.11138161012209, 8.121320343559638, -1769.997599915682),
        (-18.99006126656094, 8.999999999999998, -1769.997599915682),
        (0.00993873344057109, -17.413794241046777, -1769.997599915682),
        (-0.2829544853728818, -9.292893218813456, -1769.997599915682),
        (-0.28295448537288437, 9.292893218813454, -1769.997599915682),
    ]]
    fillet(fillet8_edges, radius=FILLET8_R)


solid = part.part
